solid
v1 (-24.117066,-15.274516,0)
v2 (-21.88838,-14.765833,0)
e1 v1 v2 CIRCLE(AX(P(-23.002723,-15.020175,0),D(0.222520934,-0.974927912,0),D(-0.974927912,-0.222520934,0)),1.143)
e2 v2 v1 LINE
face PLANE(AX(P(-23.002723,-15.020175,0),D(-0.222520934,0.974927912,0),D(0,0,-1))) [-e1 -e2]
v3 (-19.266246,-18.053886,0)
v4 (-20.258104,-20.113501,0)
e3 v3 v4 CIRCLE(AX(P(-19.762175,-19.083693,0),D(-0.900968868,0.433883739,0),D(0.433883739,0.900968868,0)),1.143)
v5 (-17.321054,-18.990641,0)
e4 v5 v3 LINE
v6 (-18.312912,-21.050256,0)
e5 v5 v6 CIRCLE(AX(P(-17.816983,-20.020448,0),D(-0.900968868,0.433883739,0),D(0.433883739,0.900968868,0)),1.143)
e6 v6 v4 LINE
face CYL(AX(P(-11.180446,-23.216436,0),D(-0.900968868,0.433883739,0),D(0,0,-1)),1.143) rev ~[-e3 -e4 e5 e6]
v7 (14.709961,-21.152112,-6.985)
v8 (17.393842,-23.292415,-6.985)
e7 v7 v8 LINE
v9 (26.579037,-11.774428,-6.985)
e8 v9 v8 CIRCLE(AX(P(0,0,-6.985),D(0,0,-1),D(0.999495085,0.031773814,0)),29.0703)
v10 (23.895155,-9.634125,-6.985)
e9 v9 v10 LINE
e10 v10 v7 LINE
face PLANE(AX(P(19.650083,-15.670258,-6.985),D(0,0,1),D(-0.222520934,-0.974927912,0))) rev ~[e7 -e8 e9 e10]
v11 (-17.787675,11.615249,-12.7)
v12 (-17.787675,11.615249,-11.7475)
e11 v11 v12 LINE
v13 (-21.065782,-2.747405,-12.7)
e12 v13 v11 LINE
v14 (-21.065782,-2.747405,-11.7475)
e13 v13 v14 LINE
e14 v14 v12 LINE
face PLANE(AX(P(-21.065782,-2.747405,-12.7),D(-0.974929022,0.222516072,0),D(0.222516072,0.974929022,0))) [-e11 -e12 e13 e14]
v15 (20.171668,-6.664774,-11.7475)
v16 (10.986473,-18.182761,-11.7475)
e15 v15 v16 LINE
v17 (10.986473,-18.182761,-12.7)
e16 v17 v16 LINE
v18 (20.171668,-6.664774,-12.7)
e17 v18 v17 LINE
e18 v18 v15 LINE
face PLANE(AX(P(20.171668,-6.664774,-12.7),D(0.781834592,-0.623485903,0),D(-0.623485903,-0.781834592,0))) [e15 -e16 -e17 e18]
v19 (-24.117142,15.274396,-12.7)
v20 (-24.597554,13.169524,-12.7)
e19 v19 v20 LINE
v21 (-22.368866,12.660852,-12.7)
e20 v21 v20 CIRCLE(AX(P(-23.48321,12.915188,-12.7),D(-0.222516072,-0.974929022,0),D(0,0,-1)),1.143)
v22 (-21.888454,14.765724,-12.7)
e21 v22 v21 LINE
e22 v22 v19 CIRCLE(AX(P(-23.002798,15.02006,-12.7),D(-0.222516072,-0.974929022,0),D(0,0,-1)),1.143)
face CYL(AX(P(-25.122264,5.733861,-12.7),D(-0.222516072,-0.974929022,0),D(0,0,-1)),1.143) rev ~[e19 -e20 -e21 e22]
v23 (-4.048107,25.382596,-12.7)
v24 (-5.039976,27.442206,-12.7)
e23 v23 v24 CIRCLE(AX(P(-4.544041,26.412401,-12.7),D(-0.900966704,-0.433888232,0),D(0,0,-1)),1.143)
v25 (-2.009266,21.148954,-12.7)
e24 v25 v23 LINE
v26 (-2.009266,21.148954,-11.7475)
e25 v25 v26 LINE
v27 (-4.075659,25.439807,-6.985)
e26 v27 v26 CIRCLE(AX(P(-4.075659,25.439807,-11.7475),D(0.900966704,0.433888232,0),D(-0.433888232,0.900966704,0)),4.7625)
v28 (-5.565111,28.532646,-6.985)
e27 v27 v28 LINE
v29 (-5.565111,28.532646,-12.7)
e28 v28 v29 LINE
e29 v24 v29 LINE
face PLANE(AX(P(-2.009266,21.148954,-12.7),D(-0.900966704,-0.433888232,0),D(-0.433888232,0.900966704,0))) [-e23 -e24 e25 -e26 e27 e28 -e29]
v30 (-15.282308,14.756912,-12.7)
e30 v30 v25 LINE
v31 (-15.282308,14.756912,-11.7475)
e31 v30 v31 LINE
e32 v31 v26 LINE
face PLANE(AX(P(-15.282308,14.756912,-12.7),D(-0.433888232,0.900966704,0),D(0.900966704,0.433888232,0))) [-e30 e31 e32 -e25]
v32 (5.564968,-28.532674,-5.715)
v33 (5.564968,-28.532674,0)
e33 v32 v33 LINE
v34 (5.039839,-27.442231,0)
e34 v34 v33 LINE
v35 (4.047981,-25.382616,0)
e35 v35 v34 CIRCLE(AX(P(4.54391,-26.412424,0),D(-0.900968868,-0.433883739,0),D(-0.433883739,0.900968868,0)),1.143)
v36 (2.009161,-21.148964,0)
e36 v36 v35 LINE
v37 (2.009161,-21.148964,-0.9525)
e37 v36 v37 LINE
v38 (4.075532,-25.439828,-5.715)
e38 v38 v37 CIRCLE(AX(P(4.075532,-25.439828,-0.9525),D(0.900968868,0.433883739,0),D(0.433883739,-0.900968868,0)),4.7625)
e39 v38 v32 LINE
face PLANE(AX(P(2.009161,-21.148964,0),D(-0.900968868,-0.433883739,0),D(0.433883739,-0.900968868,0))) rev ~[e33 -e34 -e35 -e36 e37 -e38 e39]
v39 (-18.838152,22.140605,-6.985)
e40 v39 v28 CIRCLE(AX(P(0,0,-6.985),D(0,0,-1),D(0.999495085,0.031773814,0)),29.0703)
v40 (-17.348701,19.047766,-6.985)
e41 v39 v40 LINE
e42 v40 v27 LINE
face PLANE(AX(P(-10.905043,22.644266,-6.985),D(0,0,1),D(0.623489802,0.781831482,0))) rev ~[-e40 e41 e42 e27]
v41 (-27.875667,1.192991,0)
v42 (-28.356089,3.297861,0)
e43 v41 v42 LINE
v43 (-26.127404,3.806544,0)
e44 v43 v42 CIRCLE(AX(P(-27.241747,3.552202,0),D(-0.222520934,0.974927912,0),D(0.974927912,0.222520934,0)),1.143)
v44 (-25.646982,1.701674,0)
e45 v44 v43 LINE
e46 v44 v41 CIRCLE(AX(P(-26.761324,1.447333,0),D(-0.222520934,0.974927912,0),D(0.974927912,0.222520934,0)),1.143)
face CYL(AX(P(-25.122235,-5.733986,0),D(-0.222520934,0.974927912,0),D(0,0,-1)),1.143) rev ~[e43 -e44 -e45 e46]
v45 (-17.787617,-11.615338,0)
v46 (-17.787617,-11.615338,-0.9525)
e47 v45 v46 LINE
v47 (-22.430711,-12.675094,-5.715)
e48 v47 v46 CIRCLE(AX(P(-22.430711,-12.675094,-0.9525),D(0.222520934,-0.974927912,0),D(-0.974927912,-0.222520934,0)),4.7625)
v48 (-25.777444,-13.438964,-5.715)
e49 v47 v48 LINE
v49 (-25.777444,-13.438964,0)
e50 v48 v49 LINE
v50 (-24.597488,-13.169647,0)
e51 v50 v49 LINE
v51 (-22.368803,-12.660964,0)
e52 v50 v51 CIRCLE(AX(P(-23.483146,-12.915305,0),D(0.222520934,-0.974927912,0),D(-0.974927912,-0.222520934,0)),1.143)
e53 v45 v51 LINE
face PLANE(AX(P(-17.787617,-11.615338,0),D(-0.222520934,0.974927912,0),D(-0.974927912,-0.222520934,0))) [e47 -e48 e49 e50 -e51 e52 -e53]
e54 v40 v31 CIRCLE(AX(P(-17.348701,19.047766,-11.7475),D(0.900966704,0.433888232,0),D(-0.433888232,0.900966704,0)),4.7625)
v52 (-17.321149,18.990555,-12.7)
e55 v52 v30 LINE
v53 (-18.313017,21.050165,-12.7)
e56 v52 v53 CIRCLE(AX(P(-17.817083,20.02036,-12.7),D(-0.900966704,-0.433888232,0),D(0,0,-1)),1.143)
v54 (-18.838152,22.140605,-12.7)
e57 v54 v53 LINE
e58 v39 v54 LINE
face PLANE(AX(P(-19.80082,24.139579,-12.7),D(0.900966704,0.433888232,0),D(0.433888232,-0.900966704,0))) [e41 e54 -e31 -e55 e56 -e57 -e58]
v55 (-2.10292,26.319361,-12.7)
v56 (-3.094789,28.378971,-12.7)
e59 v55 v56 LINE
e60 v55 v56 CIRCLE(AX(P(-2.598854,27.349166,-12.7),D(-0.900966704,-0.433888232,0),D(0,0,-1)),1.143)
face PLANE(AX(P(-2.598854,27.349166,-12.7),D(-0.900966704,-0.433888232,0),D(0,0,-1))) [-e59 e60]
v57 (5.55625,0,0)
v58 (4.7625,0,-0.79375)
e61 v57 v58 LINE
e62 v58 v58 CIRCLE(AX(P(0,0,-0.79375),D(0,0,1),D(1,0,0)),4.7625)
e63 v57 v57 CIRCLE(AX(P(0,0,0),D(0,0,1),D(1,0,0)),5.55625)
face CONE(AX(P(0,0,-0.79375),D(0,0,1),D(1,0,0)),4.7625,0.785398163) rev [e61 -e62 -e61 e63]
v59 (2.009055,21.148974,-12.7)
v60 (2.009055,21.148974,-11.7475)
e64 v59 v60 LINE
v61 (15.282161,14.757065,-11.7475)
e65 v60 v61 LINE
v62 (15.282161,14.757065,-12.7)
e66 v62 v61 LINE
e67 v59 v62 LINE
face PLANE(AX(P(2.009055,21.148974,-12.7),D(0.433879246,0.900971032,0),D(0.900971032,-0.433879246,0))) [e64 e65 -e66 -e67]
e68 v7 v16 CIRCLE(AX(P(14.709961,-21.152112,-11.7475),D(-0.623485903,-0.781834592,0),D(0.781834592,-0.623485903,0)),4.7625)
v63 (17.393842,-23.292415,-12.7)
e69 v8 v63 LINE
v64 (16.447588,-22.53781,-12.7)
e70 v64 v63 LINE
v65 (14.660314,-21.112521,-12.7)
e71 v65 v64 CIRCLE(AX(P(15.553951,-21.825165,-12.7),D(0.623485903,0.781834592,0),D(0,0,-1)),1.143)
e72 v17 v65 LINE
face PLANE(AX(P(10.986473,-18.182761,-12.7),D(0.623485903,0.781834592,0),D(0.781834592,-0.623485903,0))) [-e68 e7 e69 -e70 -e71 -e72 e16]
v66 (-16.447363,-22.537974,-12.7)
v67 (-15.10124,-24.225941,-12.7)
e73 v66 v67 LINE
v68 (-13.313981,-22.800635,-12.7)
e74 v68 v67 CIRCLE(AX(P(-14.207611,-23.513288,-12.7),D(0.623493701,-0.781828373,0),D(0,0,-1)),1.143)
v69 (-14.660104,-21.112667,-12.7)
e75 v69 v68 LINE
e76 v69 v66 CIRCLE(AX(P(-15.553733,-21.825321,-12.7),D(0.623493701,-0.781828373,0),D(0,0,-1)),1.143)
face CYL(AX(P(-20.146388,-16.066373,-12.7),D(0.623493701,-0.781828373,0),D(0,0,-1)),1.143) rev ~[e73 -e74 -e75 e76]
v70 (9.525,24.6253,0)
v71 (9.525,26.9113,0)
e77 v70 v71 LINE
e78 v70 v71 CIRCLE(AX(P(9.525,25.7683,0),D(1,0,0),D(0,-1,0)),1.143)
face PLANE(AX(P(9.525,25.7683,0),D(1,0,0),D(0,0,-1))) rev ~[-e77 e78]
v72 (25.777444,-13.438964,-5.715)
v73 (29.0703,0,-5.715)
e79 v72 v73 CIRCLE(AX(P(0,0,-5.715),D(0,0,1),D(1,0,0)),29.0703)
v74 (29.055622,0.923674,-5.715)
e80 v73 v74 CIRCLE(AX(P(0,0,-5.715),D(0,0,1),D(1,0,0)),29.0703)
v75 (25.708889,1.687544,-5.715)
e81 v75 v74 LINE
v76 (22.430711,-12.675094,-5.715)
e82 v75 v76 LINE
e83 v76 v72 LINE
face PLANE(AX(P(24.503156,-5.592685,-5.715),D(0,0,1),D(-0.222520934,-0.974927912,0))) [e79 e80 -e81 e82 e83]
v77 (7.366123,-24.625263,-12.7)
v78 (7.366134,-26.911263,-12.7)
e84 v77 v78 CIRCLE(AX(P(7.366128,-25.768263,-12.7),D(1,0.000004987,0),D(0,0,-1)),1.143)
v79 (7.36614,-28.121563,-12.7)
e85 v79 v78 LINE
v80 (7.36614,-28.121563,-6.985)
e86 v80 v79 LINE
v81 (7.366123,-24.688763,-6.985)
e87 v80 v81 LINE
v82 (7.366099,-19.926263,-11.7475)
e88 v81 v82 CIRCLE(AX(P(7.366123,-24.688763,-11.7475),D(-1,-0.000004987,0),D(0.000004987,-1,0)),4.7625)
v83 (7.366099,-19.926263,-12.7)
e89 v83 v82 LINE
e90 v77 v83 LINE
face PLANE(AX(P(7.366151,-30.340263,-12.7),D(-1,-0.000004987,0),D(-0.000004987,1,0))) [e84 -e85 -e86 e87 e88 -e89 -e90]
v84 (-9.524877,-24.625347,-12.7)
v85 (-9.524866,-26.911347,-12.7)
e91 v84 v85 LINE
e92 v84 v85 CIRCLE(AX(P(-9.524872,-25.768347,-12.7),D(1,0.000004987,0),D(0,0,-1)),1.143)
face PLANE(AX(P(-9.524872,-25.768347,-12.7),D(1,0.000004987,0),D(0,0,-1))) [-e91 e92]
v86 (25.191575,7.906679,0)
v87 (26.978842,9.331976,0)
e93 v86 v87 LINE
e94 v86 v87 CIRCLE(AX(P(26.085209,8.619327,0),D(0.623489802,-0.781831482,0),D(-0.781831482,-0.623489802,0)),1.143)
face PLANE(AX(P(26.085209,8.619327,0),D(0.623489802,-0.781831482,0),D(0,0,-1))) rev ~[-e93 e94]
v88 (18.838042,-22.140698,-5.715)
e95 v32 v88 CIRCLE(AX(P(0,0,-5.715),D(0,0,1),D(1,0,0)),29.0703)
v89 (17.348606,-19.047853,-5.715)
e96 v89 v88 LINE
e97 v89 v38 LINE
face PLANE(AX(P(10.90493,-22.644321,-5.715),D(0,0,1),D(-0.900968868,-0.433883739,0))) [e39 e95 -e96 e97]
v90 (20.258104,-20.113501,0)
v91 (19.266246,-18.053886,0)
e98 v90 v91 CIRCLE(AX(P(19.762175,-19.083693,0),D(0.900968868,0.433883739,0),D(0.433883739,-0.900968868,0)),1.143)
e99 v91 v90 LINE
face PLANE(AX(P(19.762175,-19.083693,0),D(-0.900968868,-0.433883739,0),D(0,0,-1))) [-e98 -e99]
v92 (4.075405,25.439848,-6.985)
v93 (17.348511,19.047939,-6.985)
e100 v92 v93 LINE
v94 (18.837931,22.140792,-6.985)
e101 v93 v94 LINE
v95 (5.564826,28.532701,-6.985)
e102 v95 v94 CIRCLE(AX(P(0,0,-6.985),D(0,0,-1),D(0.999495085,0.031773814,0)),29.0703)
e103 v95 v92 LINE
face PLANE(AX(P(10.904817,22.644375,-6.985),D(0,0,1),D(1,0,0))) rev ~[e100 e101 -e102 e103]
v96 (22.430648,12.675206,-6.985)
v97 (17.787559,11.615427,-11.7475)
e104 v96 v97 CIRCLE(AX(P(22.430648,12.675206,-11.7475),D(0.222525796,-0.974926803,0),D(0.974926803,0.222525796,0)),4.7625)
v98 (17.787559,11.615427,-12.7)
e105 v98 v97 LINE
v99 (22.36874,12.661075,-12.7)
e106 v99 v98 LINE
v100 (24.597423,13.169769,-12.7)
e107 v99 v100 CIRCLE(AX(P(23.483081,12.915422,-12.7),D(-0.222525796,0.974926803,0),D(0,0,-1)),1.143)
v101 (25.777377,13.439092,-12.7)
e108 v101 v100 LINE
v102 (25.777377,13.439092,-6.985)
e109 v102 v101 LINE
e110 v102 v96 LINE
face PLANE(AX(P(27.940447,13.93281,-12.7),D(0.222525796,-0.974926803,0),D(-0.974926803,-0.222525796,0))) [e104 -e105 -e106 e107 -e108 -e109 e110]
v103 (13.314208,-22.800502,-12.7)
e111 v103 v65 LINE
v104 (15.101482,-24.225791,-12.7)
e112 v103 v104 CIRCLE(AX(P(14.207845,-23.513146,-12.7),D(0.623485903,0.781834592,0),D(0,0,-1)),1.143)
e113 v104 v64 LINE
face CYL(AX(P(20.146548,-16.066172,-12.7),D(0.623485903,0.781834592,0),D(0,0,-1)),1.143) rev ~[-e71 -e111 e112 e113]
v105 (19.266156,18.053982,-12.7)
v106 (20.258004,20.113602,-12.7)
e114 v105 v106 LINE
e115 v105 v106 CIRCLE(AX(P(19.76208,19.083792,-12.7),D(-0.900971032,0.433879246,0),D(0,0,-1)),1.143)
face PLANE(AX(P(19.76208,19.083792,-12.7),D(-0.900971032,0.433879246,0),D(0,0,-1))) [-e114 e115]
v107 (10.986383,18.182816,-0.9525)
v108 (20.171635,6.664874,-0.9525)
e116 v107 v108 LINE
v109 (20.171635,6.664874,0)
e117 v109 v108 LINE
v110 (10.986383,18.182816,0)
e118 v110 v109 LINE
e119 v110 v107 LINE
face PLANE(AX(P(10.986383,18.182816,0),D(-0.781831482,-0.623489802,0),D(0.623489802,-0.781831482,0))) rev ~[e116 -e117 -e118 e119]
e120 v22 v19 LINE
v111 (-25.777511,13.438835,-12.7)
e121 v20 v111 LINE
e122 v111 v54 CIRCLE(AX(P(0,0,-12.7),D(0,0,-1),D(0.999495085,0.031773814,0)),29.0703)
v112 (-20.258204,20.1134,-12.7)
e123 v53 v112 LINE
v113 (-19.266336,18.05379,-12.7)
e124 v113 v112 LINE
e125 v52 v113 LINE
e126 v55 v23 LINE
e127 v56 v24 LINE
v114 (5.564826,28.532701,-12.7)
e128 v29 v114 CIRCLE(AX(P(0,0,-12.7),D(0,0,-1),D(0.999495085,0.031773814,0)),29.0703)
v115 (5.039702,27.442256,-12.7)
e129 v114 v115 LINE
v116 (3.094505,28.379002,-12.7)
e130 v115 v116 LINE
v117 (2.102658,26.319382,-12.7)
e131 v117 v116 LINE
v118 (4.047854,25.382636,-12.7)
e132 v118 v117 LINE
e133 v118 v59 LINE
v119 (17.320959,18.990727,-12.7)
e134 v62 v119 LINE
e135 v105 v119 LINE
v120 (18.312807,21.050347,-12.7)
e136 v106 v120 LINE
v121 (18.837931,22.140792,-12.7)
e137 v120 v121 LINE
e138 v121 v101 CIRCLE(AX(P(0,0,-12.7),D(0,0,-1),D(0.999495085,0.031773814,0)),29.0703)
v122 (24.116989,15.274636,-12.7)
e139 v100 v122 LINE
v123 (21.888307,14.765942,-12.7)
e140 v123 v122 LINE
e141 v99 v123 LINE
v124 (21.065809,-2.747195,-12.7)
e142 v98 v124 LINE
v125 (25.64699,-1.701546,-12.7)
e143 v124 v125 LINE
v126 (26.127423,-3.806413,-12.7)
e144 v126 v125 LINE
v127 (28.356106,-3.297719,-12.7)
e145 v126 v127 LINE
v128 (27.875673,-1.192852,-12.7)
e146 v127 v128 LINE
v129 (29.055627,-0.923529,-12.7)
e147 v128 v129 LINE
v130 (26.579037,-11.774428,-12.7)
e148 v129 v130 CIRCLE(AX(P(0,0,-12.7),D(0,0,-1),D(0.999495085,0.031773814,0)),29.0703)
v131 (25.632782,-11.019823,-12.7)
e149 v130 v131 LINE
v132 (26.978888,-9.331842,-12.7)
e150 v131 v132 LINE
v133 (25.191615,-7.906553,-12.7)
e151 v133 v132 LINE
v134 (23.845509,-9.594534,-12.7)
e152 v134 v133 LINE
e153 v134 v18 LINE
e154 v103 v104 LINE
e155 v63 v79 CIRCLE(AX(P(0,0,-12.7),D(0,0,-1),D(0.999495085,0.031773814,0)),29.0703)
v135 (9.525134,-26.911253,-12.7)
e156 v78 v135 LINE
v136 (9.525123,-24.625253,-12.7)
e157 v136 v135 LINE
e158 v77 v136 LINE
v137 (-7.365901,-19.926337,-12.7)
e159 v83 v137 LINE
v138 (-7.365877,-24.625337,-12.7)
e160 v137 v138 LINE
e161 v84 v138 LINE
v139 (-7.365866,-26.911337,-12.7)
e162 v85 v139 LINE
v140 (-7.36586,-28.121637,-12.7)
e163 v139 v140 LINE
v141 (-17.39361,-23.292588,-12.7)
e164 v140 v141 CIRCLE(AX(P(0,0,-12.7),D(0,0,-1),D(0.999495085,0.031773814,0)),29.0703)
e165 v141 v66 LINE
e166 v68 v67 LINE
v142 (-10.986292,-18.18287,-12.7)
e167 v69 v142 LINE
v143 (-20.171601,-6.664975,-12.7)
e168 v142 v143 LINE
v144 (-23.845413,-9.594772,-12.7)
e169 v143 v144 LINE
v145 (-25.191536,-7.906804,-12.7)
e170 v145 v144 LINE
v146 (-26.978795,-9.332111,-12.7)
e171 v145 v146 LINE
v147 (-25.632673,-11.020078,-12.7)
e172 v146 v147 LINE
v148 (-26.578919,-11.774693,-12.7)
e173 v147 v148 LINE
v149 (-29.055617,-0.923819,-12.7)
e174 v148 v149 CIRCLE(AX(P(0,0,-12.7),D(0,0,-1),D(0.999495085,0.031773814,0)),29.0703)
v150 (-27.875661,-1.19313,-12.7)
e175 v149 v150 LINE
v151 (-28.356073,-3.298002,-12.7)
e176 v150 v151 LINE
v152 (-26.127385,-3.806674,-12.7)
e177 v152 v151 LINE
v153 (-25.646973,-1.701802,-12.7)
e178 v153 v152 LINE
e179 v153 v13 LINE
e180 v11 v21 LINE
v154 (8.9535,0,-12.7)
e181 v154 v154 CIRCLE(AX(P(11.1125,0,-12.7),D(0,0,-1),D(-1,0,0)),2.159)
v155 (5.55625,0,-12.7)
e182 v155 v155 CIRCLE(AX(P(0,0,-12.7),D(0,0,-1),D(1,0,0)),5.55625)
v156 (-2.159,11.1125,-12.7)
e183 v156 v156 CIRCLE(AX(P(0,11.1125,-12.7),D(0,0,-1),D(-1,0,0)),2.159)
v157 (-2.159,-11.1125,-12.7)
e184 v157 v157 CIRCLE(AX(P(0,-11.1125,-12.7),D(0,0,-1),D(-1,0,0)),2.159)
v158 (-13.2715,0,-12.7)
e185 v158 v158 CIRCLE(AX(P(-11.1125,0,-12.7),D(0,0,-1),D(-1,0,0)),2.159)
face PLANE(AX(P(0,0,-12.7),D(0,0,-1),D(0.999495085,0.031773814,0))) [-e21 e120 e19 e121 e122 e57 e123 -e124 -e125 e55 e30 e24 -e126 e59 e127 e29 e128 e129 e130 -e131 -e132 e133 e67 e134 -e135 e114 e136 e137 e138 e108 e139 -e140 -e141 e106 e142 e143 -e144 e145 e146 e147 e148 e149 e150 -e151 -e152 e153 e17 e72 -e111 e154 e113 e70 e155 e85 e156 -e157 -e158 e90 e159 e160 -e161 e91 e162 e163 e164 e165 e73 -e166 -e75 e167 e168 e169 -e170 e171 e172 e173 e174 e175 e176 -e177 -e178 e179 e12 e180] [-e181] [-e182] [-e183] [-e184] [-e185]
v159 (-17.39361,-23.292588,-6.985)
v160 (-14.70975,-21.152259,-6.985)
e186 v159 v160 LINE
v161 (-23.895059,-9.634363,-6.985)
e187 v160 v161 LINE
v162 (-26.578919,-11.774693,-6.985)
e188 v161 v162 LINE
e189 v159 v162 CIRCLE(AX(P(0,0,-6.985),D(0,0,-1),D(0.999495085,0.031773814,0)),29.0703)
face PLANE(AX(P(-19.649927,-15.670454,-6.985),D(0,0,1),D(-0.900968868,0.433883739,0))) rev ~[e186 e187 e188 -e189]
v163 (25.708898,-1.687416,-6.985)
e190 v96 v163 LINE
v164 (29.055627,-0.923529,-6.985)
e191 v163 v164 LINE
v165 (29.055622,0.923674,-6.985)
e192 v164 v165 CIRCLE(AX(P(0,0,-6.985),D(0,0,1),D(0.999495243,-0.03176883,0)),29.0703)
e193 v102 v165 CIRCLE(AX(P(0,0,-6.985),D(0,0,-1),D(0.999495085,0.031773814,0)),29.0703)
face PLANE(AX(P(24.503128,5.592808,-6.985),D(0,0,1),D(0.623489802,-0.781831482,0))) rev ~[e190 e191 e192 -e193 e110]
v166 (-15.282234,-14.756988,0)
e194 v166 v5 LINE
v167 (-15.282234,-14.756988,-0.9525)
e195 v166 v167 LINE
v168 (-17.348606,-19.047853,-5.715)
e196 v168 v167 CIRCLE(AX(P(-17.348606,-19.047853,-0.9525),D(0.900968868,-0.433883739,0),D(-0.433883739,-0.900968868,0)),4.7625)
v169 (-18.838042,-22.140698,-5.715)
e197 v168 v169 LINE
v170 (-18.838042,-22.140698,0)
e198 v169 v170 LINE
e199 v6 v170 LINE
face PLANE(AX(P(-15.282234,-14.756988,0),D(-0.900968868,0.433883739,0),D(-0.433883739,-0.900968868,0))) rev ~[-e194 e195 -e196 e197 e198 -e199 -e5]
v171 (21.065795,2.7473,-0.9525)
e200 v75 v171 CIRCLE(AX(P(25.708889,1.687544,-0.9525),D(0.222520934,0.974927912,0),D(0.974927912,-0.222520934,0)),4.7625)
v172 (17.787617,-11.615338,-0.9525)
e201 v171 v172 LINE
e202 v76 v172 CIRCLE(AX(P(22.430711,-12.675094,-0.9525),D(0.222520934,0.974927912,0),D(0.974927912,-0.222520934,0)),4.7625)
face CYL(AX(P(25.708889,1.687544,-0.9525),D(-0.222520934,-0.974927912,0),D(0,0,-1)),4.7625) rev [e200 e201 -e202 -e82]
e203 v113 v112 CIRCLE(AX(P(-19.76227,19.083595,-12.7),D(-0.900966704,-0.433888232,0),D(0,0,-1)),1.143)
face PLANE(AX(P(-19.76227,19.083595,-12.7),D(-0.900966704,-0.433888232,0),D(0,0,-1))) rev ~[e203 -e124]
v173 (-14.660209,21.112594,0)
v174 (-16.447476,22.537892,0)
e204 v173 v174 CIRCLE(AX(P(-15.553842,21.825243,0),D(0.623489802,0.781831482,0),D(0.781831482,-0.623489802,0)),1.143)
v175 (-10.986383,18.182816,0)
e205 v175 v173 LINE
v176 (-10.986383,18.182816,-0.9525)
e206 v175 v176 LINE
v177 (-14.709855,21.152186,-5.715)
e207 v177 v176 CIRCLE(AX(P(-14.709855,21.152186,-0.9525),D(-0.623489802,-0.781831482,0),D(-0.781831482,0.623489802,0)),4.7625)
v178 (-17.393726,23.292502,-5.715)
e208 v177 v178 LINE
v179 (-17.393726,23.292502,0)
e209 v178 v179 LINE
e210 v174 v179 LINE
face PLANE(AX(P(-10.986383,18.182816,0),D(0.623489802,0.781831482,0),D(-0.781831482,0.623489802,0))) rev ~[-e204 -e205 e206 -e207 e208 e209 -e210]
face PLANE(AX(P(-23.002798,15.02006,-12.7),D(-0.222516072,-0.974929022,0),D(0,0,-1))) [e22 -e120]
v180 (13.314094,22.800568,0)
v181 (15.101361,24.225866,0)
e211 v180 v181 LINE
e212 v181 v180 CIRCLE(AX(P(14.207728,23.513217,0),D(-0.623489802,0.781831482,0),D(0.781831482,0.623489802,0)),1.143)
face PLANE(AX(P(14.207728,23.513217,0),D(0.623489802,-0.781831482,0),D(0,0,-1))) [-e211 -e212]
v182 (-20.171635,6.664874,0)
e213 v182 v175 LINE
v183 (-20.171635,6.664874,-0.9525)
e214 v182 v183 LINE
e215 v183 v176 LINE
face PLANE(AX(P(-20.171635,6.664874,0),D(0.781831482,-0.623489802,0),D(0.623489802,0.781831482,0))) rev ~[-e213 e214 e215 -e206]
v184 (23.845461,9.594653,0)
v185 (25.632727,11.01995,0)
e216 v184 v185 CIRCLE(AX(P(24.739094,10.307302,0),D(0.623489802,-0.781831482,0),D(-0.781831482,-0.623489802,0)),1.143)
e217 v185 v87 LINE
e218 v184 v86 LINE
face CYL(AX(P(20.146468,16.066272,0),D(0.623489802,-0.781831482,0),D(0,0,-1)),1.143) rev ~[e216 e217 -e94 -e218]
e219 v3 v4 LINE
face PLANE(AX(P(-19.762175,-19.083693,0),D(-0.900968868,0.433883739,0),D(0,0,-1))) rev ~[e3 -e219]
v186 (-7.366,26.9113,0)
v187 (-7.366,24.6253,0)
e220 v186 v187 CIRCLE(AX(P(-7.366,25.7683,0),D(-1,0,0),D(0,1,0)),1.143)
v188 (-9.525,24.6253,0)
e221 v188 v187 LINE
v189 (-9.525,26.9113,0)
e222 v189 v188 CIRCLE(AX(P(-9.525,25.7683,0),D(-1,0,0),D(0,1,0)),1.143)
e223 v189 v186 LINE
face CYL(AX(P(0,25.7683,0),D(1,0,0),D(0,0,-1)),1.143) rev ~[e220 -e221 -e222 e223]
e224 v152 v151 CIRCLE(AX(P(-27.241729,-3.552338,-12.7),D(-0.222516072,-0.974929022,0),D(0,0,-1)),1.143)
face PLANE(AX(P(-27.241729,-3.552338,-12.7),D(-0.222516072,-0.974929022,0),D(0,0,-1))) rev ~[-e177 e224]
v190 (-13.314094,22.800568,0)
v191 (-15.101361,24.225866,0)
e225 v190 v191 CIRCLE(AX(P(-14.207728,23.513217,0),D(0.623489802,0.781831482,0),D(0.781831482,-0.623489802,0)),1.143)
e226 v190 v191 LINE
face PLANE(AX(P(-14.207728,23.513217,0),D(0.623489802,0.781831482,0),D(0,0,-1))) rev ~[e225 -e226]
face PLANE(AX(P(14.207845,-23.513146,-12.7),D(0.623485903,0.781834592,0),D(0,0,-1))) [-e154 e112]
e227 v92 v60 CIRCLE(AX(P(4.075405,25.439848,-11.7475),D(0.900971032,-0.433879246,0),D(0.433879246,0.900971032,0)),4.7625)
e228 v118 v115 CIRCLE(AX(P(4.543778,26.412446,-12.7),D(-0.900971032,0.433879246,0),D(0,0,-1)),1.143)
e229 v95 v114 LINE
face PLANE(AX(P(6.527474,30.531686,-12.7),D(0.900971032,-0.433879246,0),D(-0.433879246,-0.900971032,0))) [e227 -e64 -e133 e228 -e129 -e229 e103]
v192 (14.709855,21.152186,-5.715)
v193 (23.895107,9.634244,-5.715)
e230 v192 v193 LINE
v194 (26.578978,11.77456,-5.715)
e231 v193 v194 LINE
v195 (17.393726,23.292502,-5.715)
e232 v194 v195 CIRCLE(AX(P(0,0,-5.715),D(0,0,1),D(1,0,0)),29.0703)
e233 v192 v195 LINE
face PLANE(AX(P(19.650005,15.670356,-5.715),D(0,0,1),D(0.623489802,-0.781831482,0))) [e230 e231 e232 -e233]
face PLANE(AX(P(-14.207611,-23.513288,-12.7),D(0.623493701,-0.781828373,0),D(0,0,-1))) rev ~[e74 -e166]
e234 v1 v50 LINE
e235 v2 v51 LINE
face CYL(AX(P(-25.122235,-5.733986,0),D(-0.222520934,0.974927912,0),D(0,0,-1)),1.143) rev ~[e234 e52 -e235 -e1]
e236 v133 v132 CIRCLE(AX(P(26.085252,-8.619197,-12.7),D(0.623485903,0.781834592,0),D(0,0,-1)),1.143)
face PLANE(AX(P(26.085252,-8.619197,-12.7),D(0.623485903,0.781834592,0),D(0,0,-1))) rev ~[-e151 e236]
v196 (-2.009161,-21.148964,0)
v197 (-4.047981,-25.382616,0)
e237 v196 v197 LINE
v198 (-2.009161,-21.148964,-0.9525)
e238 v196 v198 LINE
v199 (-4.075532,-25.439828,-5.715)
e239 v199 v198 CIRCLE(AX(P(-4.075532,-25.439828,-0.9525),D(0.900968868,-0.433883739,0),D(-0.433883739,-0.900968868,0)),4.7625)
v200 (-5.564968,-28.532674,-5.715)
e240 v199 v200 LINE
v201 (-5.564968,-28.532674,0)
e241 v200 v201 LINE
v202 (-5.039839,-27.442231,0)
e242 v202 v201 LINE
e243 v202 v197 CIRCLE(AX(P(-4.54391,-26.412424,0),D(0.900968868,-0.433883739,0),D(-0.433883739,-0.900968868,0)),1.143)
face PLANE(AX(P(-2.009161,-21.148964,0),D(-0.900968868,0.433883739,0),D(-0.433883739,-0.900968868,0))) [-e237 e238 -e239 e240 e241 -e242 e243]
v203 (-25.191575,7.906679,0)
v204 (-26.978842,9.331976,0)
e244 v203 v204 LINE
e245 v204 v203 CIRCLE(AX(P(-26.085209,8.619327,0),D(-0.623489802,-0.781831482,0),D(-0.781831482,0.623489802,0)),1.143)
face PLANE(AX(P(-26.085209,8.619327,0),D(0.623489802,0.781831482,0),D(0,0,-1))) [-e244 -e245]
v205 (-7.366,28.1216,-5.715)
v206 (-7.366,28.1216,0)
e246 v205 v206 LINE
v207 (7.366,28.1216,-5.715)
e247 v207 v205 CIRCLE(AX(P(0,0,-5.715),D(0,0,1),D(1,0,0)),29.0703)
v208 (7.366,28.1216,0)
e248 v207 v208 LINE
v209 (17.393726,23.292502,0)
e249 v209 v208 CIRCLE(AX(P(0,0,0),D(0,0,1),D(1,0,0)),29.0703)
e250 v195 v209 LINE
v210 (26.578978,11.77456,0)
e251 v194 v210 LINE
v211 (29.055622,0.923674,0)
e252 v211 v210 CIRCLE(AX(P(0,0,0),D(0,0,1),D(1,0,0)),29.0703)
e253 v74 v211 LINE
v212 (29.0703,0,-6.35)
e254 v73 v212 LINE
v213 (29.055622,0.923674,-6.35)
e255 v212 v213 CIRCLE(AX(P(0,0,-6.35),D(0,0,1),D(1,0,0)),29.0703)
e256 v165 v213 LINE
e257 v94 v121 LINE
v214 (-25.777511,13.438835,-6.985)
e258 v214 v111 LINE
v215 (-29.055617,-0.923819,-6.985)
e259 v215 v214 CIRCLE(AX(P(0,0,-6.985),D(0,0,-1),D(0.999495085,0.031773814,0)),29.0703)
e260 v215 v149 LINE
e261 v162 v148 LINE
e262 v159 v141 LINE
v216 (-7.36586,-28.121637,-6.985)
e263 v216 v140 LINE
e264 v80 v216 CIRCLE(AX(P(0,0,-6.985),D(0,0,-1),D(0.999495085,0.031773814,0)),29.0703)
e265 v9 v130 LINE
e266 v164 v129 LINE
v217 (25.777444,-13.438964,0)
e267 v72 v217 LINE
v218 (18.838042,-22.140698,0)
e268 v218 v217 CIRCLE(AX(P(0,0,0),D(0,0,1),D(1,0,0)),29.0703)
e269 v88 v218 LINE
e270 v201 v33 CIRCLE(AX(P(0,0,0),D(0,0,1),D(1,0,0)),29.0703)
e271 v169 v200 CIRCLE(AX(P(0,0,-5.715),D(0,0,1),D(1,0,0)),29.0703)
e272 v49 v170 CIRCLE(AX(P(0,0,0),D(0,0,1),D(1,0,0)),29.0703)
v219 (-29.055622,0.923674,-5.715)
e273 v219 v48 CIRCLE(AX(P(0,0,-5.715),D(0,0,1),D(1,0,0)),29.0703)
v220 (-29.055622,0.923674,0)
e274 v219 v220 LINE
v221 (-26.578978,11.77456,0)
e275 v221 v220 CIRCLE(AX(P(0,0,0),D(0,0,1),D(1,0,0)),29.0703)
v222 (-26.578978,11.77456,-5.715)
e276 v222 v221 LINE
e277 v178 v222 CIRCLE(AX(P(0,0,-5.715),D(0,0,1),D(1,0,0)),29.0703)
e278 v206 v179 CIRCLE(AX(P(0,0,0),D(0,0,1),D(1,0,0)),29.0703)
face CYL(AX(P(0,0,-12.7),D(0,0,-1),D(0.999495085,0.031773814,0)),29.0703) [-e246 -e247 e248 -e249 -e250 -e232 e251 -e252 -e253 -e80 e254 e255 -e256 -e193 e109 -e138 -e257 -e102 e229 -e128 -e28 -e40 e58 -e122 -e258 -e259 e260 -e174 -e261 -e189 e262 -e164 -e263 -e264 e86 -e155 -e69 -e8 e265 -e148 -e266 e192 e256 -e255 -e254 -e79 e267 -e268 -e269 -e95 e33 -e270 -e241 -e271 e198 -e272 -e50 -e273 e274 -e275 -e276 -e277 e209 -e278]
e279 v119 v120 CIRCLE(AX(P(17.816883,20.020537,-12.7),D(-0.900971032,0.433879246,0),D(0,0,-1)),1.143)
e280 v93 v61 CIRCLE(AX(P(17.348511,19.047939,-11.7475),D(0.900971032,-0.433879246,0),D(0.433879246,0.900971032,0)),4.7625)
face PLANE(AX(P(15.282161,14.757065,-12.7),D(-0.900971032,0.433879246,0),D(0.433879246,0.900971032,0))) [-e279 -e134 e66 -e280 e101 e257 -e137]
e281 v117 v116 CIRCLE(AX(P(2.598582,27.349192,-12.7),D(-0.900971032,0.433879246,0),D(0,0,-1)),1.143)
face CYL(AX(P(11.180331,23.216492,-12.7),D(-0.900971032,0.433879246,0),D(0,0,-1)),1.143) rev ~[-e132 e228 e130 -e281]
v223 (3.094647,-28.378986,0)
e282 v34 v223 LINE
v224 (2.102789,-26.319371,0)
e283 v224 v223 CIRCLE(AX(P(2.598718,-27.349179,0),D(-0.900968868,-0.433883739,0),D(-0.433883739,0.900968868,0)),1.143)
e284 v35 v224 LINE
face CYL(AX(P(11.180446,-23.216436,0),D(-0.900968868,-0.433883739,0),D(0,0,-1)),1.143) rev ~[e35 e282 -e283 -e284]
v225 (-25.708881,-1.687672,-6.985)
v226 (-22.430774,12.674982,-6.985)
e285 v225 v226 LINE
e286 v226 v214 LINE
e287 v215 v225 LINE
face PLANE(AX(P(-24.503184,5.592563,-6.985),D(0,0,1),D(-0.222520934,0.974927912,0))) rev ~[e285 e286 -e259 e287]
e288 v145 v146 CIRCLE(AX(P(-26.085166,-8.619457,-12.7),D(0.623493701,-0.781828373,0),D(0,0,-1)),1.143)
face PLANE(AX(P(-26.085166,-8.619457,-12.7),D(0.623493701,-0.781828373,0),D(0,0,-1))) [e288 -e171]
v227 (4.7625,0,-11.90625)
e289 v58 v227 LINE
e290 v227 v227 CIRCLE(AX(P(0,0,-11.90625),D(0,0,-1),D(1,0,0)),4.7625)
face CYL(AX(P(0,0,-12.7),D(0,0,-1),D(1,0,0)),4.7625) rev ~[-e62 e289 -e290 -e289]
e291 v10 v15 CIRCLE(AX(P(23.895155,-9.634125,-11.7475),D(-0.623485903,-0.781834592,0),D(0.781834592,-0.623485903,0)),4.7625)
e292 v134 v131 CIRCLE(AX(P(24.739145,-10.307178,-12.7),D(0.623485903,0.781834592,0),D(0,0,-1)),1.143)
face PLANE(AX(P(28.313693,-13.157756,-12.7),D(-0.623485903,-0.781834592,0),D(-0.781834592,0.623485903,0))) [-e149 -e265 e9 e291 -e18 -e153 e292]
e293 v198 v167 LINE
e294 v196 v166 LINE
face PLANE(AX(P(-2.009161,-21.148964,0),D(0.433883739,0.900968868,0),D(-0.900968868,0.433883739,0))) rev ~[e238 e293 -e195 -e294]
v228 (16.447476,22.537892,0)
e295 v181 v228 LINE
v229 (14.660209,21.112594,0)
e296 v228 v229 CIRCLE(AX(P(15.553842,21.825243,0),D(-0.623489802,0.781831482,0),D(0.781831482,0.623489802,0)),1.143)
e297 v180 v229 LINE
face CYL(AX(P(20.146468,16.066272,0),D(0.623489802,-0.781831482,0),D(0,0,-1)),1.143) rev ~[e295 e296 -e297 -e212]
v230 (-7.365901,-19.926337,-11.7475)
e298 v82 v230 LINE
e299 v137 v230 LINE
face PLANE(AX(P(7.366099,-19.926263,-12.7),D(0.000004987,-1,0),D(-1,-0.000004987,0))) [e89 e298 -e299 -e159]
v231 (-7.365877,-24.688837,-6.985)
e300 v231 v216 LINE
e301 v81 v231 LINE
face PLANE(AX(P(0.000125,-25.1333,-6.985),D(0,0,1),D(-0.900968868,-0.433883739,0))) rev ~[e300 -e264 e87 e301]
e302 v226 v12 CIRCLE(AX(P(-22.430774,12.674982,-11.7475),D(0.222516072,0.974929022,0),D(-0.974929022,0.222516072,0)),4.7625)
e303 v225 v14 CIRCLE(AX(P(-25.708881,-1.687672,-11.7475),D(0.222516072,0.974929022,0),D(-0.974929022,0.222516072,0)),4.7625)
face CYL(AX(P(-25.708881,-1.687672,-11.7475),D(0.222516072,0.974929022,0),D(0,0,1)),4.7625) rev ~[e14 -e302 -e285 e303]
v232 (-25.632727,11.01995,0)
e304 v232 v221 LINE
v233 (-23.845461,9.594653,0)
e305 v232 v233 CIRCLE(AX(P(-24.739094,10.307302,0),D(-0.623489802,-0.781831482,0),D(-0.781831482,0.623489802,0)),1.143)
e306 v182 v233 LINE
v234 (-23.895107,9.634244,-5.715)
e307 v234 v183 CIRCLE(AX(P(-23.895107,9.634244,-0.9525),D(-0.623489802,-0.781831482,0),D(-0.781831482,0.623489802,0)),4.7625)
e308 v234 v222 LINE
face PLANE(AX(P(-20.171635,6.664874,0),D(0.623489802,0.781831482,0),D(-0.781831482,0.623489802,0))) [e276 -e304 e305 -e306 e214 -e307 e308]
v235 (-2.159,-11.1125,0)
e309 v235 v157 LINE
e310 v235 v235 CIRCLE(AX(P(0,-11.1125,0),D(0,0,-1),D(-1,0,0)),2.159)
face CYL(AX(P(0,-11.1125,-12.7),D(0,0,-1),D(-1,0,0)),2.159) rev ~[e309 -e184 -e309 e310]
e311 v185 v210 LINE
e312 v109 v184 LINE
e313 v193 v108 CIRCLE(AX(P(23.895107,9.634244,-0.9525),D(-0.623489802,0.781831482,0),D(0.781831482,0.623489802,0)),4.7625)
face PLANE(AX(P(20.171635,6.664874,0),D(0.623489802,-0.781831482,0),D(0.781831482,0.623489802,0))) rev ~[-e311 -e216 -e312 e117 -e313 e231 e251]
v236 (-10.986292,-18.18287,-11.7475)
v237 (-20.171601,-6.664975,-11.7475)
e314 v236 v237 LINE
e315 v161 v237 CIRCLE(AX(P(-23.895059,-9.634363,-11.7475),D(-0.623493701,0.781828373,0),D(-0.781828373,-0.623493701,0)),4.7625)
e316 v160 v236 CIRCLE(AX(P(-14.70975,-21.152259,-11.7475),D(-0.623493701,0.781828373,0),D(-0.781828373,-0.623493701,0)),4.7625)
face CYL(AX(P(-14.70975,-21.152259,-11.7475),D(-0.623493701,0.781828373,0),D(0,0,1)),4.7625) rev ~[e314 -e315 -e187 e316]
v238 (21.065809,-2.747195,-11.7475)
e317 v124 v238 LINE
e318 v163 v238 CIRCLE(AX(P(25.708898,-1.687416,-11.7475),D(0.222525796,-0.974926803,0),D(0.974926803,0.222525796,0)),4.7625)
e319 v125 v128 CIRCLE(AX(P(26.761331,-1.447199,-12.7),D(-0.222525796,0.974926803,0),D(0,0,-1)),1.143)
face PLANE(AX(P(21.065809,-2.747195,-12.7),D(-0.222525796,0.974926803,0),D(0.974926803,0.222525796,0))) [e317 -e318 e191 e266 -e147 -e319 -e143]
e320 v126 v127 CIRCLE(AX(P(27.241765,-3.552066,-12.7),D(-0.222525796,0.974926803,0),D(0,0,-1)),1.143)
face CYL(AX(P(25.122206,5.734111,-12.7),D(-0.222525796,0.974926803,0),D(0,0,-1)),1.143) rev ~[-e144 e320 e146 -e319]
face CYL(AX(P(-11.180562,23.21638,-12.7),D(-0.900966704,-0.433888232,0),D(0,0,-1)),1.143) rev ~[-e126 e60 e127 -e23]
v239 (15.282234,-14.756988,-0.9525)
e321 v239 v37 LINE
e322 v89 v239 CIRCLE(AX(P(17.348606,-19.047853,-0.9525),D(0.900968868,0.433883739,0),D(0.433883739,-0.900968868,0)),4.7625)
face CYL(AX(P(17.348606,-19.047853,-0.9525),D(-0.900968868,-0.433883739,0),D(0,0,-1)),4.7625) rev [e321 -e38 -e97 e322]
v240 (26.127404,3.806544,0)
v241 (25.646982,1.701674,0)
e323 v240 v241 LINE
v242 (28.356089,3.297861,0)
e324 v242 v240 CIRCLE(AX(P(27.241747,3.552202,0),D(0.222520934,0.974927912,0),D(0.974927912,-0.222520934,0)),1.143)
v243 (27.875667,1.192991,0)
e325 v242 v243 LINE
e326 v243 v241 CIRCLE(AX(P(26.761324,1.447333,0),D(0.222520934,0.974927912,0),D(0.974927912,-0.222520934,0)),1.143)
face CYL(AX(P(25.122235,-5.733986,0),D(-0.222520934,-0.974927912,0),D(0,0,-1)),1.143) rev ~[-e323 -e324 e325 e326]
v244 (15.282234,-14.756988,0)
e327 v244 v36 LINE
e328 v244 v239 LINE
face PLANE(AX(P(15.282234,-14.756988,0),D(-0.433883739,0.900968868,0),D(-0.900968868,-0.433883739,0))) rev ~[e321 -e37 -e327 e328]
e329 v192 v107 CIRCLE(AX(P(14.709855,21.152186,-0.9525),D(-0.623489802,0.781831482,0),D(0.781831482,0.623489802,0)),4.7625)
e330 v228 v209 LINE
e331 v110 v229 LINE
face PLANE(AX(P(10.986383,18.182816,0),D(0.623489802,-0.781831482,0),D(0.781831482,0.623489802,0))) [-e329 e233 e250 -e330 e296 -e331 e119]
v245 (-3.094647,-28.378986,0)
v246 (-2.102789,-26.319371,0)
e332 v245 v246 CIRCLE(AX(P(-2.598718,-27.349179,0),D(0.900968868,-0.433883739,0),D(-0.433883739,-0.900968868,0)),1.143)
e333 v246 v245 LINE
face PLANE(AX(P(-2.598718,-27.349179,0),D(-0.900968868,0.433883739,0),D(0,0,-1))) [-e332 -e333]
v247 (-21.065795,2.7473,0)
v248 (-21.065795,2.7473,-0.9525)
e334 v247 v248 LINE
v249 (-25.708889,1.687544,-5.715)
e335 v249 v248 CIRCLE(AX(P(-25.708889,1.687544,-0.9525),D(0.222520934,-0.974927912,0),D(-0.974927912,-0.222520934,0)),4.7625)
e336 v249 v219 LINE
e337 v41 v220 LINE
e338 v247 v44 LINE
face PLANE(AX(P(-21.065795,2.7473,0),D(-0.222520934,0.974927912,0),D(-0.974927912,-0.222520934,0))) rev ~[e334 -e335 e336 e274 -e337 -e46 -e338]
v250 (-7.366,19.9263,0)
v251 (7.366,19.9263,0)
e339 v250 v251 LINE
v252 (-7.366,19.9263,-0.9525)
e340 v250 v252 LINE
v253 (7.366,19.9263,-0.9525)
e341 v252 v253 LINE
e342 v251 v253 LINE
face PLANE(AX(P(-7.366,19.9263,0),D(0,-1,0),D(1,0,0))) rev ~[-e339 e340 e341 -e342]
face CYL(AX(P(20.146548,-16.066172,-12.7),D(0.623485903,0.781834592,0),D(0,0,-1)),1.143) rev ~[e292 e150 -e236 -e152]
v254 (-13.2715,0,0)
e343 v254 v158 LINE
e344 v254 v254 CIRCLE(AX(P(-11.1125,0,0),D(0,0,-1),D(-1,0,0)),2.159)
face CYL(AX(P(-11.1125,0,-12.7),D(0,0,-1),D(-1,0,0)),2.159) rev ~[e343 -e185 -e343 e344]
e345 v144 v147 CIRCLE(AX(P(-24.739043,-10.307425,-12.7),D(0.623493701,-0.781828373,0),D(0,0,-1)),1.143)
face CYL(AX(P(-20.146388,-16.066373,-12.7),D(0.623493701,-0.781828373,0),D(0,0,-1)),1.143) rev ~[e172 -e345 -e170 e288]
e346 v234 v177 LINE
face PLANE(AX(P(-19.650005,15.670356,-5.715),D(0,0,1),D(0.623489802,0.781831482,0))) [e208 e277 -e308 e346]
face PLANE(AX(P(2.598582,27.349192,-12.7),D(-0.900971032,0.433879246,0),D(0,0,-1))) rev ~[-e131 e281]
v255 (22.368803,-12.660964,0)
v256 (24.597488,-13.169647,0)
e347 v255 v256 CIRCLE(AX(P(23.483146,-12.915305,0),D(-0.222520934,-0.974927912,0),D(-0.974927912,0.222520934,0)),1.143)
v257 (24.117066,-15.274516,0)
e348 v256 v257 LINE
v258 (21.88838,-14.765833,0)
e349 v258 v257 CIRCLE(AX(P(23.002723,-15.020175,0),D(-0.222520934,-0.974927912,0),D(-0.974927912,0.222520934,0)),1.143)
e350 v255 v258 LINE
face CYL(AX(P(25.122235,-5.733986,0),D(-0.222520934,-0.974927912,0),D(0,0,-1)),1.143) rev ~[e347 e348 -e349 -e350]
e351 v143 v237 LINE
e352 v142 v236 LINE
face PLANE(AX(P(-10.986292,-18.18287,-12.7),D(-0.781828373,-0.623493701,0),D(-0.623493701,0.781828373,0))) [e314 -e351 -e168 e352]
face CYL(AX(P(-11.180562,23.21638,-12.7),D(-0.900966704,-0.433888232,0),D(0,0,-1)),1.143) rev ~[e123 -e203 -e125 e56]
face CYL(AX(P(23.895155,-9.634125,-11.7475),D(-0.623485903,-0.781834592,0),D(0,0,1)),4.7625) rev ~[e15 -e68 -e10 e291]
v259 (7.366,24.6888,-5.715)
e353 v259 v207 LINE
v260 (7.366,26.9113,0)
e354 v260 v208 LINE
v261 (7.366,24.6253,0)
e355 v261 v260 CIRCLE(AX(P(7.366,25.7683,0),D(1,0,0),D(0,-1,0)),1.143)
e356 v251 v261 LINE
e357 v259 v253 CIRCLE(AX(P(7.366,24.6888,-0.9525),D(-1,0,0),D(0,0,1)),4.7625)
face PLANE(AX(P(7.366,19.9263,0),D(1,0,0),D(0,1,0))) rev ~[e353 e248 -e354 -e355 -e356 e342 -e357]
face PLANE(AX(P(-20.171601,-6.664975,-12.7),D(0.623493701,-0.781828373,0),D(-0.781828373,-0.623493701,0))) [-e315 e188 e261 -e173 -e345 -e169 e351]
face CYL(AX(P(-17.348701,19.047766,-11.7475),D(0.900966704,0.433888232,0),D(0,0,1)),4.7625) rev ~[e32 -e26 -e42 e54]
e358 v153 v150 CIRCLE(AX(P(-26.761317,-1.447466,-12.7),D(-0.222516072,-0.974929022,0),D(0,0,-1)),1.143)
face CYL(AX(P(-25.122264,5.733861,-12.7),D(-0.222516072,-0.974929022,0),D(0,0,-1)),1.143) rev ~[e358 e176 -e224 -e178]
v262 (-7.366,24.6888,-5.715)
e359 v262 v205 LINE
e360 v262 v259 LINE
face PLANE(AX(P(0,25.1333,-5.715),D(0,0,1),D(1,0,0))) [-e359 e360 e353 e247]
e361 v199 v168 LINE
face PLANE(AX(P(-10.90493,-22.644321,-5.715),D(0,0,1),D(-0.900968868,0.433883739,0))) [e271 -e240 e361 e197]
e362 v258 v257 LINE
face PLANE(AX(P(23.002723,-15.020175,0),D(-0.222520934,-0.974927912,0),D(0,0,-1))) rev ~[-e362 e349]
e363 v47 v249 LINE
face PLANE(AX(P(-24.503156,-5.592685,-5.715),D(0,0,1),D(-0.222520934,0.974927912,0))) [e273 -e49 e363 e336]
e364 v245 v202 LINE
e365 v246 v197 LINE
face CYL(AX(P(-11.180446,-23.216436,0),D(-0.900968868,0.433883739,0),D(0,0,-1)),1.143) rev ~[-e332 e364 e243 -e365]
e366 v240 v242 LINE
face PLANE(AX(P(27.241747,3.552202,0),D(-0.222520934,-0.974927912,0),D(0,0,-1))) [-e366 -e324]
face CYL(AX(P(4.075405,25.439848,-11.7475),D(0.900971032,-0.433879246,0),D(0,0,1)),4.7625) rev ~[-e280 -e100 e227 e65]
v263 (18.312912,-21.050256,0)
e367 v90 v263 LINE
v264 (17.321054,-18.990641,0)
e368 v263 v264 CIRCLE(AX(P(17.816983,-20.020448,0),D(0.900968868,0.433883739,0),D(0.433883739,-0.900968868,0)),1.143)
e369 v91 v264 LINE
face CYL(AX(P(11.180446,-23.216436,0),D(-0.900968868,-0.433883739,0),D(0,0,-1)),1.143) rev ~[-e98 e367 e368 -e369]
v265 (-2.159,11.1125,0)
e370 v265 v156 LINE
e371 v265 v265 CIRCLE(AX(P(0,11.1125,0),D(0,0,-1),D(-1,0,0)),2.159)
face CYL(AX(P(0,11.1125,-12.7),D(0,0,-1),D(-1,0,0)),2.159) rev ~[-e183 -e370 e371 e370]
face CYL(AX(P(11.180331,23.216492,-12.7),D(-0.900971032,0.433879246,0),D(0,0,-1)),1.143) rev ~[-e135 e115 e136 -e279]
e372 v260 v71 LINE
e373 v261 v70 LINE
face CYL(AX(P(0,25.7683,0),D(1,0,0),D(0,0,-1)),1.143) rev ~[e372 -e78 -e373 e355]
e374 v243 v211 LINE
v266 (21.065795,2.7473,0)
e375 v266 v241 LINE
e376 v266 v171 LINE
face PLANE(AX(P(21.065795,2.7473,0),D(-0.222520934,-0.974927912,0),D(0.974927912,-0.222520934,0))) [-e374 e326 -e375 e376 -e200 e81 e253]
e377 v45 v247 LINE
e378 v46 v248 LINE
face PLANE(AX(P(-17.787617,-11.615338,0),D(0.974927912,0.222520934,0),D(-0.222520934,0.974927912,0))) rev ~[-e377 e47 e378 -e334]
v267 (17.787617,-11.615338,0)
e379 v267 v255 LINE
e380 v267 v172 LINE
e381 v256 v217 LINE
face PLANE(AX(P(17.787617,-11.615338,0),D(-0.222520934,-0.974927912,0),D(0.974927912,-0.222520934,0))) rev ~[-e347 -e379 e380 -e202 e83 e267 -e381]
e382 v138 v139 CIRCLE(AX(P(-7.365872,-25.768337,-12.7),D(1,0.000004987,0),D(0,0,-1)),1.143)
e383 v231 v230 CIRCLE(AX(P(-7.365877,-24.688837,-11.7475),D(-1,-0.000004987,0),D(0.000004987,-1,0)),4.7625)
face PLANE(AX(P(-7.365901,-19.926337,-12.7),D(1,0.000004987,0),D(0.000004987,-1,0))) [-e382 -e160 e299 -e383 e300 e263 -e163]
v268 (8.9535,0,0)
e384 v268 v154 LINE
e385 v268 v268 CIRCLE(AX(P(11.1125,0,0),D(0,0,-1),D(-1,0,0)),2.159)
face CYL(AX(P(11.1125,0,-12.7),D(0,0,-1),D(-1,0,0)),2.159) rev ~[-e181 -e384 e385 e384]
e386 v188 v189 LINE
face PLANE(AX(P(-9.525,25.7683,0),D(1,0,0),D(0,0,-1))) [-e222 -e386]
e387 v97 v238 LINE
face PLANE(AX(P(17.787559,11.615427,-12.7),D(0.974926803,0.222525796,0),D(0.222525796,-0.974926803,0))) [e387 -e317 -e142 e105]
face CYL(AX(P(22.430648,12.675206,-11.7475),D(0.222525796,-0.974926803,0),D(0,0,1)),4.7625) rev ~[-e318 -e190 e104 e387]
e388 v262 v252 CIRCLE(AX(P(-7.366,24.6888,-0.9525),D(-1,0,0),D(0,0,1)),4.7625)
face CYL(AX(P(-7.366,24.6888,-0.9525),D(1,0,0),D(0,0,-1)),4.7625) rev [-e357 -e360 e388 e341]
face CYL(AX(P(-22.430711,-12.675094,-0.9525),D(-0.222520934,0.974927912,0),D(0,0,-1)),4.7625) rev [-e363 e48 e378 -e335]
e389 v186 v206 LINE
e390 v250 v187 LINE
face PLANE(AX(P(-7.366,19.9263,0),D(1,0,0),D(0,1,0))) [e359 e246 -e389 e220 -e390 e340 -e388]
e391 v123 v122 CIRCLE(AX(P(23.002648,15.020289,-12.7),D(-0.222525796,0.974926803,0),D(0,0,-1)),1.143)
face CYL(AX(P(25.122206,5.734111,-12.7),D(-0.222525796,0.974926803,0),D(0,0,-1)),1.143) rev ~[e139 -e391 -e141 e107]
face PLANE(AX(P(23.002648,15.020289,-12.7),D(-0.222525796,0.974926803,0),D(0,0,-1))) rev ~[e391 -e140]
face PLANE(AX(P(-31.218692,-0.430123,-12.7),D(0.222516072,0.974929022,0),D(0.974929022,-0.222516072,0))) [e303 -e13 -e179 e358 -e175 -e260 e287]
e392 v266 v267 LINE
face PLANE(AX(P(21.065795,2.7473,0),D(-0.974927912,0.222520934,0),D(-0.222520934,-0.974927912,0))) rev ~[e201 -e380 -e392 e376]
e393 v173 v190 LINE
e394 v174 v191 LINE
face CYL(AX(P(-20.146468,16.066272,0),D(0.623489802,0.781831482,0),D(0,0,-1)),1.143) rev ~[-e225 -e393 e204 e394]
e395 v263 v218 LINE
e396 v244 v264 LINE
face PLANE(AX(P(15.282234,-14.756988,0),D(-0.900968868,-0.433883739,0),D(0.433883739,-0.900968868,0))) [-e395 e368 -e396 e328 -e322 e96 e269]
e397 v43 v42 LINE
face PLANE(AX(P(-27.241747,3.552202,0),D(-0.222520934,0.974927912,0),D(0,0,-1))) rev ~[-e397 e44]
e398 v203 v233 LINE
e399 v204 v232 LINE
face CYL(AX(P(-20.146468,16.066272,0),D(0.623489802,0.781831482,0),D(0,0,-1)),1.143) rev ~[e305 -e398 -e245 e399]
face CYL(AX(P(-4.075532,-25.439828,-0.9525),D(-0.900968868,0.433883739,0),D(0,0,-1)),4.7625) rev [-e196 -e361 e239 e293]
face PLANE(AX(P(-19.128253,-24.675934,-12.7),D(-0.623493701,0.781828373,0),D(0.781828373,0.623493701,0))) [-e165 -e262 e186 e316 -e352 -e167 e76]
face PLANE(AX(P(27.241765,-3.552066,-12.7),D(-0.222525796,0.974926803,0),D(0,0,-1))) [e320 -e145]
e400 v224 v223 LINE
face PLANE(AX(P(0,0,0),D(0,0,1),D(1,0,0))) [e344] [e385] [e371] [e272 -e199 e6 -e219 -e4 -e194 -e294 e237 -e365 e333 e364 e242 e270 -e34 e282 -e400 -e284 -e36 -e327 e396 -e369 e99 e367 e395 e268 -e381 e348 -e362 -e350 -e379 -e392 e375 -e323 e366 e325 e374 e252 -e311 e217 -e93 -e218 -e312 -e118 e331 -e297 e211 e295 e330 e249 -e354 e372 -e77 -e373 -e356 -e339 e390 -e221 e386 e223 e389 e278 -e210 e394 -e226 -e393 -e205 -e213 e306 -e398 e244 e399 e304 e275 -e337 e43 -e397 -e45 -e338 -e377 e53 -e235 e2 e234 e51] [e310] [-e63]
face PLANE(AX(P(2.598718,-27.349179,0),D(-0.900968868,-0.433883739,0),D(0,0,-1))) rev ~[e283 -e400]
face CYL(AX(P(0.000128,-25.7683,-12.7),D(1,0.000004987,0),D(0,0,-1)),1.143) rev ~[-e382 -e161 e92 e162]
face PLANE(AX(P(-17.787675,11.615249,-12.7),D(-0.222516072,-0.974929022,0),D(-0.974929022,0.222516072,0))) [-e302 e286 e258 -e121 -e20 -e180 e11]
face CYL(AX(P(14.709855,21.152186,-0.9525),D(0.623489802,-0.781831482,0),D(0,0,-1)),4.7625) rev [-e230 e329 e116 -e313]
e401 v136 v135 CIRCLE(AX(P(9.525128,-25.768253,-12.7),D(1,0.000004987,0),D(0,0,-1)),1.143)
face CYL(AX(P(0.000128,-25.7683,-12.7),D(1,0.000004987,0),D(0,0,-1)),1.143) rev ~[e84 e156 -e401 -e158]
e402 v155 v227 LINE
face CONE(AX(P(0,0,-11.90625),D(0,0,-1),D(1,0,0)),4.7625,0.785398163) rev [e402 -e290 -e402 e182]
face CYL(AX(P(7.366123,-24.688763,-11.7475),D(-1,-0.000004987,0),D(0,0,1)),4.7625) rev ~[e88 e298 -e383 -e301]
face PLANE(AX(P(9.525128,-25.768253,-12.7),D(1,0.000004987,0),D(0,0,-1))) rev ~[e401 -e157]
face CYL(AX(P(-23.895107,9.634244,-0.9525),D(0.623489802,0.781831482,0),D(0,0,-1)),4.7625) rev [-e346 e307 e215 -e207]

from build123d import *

# Parameters (mm, degrees)
SKETCH1_R           = 29.0703
BOSS_EXTRUDE2_DEPTH = 6.35
SKETCH2_W           = 14.732
SKETCH2_H           = 10.414
CUT_EXTRUDE2_DEPTH  = 5.715
CIRPATTERN1_COUNT   = 7
SKETCH4_R           = 1.143
CUT_EXTRUDE4_DEPTH  = 9.525
CIRPATTERN2_COUNT   = 7
SKETCH5_R           = 4.7625
CUT_EXTRUDE5_DEPTH  = 42.599124801
SKETCH6_R           = 2.159
CUT_EXTRUDE7_DEPTH  = 42.599124801
BOSS_EXTRUDE3_START = 6.35
SKETCH9_R           = 29.0703
SKETCH9_R_2         = 2.159
SKETCH9_R_3         = 4.7625
BOSS_EXTRUDE3_DEPTH = 6.35
CUT_EXTRUDE8_DEPTH  = 5.715
CIRPATTERN3_COUNT   = 7
SKETCH11_R          = 1.143
CUT_EXTRUDE9_DEPTH  = 9.525
CIRPATTERN4_COUNT   = 7
FILLET1_R           = 4.7625
CHAMFER1_SIZE       = 0.79375


with BuildPart() as part:
    # Sketch1 → Boss-Extrude2 (new body)
    with BuildSketch(Plane.XY):
        Circle(SKETCH1_R)
    extrude(amount=-BOSS_EXTRUDE2_DEPTH)

    # Sketch2 → Cut-Extrude2 (cut)
    with BuildSketch(Plane.XY):
        with Locations((0, 25.1333)):
            Rectangle(SKETCH2_W, SKETCH2_H)
    cut_extrude2 = extrude(amount=-CUT_EXTRUDE2_DEPTH, mode=Mode.SUBTRACT)

    # CirPattern1: Cut-Extrude2 ×7 about axis
    cirpattern1_axis = Axis((0, 0, 0), (0, 0, 1))
    for i in range(1, CIRPATTERN1_COUNT):
        add(cut_extrude2.rotate(cirpattern1_axis, i * 360 / CIRPATTERN1_COUNT), mode=Mode.SUBTRACT)

    # Sketch4 → Cut-Extrude4 (cut, symmetric)
    with BuildSketch(Plane(origin=(0, 0, 0), x_dir=(0, 0, -1), z_dir=(1, 0, 0))):
        with Locations((0, 25.7683)):
            Circle(SKETCH4_R)
    cut_extrude4 = extrude(amount=CUT_EXTRUDE4_DEPTH, both=True, mode=Mode.SUBTRACT)

    # CirPattern2: Cut-Extrude4 ×7 about axis
    cirpattern2_axis = Axis((0, 0, 0), (0, 0, 1))
    for i in range(1, CIRPATTERN2_COUNT):
        add(cut_extrude4.rotate(cirpattern2_axis, i * 360 / CIRPATTERN2_COUNT), mode=Mode.SUBTRACT)

    # Sketch5 → Cut-Extrude5 (cut, through all)
    with BuildSketch(Plane.XY):
        Circle(SKETCH5_R)
    extrude(amount=-CUT_EXTRUDE5_DEPTH, mode=Mode.SUBTRACT)

    # Sketch6 → Cut-Extrude7 (cut, through all)
    with BuildSketch(Plane(origin=(0, 0, -6.35), x_dir=(-1, 0, 0), z_dir=(0, 0, -1))):
        with Locations((0, 11.1125)):
            Circle(SKETCH6_R)
        with Locations((11.1125, 0)):
            Circle(SKETCH6_R)
        with Locations((0, -11.1125)):
            Circle(SKETCH6_R)
        with Locations((-11.1125, 0)):
            Circle(SKETCH6_R)
    extrude(amount=-CUT_EXTRUDE7_DEPTH, mode=Mode.SUBTRACT)

    # Sketch9 → Boss-Extrude3 (add)
    with BuildSketch(Plane(origin=(0, 0, -6.35), x_dir=(-1, 0, 0), z_dir=(0, 0, -1)).offset(BOSS_EXTRUDE3_START)):
        with Locations(Location((0, 0, 0), (0, 0, 178.179188094))):
            Circle(SKETCH9_R)
        with Locations((0, 11.1125)):
            Circle(SKETCH9_R_2, mode=Mode.SUBTRACT)
        with Locations((11.1125, 0)):
            Circle(SKETCH9_R_2, mode=Mode.SUBTRACT)
        with Locations((0, -11.1125)):
            Circle(SKETCH9_R_2, mode=Mode.SUBTRACT)
        with Locations((-11.1125, 0)):
            Circle(SKETCH9_R_2, mode=Mode.SUBTRACT)
        with Locations(Location((0, 0, 0), (0, 0, 180))):
            Circle(SKETCH9_R_3, mode=Mode.SUBTRACT)
    extrude(amount=-BOSS_EXTRUDE3_DEPTH)

    # Sketch10 → Cut-Extrude8 (cut)
    with BuildSketch(Plane(origin=(0, 0, -12.7), x_dir=(-1, 0, 0), z_dir=(0, 0, -1))):
        Polygon((-2.009055407, 21.148973594), (-15.282160644, 14.757064537), (-19.800579114, 24.139776859), (-6.527473878, 30.531685916), align=None)
    cut_extrude8 = extrude(amount=-CUT_EXTRUDE8_DEPTH, mode=Mode.SUBTRACT)

    # CirPattern3: Cut-Extrude8 ×7 about axis
    cirpattern3_axis = Axis((0, 0, 0), (0, 0, 1))
    for i in range(1, CIRPATTERN3_COUNT):
        add(cut_extrude8.rotate(cirpattern3_axis, i * 360 / CIRPATTERN3_COUNT), mode=Mode.SUBTRACT)

    # Sketch11 → Cut-Extrude9 (cut, symmetric)
    with BuildSketch(Plane(origin=(0, 0, 0), x_dir=(0, 0, -1), z_dir=(-0.900971031519736, 0.4338792462912495, 0))):
        with Locations((12.7, -25.7683)):
            Circle(SKETCH11_R)
    cut_extrude9 = extrude(amount=CUT_EXTRUDE9_DEPTH, both=True, mode=Mode.SUBTRACT)

    # CirPattern4: Cut-Extrude9 ×7 about axis
    cirpattern4_axis = Axis((0, 0, 0), (0, 0, 1))
    for i in range(1, CIRPATTERN4_COUNT):
        add(cut_extrude9.rotate(cirpattern4_axis, i * 360 / CIRPATTERN4_COUNT), mode=Mode.SUBTRACT)

    # Fillet1
    fillet1_edges = [part.edges().sort_by_distance(p)[0] for p in [
        (-15.579008669, 12.423844839, -5.715),
        (0, 19.9263, -5.715),
        (8.645608025, 17.953019065, -6.985),
        (-8.645787076, 17.952932839, -6.985),
        (-19.426728167, 4.433922012, -6.985),
        (-15.578946715, -12.423922526, -6.985),
        (9.9366e-05, -19.9263, -6.985),
        (15.579070622, -12.423767151, -6.985),
        (19.426683945, 4.434115761, -6.985),
        (8.645697551, -17.952975952, -5.715),
        (19.426706057, -4.434018886, -5.715),
        (-19.426706057, -4.434018886, -5.715),
        (-8.645697551, -17.952975952, -5.715),
        (15.579008669, 12.423844839, -5.715),
    ]]
    fillet(fillet1_edges, radius=FILLET1_R)

    # Chamfer1
    chamfer1_edges = [part.edges().sort_by_distance(p)[0] for p in [
        (-4.7625, 0, 0),
        (-4.7625, 0, -12.7),
    ]]
    chamfer(chamfer1_edges, length=CHAMFER1_SIZE)


solid = part.part
